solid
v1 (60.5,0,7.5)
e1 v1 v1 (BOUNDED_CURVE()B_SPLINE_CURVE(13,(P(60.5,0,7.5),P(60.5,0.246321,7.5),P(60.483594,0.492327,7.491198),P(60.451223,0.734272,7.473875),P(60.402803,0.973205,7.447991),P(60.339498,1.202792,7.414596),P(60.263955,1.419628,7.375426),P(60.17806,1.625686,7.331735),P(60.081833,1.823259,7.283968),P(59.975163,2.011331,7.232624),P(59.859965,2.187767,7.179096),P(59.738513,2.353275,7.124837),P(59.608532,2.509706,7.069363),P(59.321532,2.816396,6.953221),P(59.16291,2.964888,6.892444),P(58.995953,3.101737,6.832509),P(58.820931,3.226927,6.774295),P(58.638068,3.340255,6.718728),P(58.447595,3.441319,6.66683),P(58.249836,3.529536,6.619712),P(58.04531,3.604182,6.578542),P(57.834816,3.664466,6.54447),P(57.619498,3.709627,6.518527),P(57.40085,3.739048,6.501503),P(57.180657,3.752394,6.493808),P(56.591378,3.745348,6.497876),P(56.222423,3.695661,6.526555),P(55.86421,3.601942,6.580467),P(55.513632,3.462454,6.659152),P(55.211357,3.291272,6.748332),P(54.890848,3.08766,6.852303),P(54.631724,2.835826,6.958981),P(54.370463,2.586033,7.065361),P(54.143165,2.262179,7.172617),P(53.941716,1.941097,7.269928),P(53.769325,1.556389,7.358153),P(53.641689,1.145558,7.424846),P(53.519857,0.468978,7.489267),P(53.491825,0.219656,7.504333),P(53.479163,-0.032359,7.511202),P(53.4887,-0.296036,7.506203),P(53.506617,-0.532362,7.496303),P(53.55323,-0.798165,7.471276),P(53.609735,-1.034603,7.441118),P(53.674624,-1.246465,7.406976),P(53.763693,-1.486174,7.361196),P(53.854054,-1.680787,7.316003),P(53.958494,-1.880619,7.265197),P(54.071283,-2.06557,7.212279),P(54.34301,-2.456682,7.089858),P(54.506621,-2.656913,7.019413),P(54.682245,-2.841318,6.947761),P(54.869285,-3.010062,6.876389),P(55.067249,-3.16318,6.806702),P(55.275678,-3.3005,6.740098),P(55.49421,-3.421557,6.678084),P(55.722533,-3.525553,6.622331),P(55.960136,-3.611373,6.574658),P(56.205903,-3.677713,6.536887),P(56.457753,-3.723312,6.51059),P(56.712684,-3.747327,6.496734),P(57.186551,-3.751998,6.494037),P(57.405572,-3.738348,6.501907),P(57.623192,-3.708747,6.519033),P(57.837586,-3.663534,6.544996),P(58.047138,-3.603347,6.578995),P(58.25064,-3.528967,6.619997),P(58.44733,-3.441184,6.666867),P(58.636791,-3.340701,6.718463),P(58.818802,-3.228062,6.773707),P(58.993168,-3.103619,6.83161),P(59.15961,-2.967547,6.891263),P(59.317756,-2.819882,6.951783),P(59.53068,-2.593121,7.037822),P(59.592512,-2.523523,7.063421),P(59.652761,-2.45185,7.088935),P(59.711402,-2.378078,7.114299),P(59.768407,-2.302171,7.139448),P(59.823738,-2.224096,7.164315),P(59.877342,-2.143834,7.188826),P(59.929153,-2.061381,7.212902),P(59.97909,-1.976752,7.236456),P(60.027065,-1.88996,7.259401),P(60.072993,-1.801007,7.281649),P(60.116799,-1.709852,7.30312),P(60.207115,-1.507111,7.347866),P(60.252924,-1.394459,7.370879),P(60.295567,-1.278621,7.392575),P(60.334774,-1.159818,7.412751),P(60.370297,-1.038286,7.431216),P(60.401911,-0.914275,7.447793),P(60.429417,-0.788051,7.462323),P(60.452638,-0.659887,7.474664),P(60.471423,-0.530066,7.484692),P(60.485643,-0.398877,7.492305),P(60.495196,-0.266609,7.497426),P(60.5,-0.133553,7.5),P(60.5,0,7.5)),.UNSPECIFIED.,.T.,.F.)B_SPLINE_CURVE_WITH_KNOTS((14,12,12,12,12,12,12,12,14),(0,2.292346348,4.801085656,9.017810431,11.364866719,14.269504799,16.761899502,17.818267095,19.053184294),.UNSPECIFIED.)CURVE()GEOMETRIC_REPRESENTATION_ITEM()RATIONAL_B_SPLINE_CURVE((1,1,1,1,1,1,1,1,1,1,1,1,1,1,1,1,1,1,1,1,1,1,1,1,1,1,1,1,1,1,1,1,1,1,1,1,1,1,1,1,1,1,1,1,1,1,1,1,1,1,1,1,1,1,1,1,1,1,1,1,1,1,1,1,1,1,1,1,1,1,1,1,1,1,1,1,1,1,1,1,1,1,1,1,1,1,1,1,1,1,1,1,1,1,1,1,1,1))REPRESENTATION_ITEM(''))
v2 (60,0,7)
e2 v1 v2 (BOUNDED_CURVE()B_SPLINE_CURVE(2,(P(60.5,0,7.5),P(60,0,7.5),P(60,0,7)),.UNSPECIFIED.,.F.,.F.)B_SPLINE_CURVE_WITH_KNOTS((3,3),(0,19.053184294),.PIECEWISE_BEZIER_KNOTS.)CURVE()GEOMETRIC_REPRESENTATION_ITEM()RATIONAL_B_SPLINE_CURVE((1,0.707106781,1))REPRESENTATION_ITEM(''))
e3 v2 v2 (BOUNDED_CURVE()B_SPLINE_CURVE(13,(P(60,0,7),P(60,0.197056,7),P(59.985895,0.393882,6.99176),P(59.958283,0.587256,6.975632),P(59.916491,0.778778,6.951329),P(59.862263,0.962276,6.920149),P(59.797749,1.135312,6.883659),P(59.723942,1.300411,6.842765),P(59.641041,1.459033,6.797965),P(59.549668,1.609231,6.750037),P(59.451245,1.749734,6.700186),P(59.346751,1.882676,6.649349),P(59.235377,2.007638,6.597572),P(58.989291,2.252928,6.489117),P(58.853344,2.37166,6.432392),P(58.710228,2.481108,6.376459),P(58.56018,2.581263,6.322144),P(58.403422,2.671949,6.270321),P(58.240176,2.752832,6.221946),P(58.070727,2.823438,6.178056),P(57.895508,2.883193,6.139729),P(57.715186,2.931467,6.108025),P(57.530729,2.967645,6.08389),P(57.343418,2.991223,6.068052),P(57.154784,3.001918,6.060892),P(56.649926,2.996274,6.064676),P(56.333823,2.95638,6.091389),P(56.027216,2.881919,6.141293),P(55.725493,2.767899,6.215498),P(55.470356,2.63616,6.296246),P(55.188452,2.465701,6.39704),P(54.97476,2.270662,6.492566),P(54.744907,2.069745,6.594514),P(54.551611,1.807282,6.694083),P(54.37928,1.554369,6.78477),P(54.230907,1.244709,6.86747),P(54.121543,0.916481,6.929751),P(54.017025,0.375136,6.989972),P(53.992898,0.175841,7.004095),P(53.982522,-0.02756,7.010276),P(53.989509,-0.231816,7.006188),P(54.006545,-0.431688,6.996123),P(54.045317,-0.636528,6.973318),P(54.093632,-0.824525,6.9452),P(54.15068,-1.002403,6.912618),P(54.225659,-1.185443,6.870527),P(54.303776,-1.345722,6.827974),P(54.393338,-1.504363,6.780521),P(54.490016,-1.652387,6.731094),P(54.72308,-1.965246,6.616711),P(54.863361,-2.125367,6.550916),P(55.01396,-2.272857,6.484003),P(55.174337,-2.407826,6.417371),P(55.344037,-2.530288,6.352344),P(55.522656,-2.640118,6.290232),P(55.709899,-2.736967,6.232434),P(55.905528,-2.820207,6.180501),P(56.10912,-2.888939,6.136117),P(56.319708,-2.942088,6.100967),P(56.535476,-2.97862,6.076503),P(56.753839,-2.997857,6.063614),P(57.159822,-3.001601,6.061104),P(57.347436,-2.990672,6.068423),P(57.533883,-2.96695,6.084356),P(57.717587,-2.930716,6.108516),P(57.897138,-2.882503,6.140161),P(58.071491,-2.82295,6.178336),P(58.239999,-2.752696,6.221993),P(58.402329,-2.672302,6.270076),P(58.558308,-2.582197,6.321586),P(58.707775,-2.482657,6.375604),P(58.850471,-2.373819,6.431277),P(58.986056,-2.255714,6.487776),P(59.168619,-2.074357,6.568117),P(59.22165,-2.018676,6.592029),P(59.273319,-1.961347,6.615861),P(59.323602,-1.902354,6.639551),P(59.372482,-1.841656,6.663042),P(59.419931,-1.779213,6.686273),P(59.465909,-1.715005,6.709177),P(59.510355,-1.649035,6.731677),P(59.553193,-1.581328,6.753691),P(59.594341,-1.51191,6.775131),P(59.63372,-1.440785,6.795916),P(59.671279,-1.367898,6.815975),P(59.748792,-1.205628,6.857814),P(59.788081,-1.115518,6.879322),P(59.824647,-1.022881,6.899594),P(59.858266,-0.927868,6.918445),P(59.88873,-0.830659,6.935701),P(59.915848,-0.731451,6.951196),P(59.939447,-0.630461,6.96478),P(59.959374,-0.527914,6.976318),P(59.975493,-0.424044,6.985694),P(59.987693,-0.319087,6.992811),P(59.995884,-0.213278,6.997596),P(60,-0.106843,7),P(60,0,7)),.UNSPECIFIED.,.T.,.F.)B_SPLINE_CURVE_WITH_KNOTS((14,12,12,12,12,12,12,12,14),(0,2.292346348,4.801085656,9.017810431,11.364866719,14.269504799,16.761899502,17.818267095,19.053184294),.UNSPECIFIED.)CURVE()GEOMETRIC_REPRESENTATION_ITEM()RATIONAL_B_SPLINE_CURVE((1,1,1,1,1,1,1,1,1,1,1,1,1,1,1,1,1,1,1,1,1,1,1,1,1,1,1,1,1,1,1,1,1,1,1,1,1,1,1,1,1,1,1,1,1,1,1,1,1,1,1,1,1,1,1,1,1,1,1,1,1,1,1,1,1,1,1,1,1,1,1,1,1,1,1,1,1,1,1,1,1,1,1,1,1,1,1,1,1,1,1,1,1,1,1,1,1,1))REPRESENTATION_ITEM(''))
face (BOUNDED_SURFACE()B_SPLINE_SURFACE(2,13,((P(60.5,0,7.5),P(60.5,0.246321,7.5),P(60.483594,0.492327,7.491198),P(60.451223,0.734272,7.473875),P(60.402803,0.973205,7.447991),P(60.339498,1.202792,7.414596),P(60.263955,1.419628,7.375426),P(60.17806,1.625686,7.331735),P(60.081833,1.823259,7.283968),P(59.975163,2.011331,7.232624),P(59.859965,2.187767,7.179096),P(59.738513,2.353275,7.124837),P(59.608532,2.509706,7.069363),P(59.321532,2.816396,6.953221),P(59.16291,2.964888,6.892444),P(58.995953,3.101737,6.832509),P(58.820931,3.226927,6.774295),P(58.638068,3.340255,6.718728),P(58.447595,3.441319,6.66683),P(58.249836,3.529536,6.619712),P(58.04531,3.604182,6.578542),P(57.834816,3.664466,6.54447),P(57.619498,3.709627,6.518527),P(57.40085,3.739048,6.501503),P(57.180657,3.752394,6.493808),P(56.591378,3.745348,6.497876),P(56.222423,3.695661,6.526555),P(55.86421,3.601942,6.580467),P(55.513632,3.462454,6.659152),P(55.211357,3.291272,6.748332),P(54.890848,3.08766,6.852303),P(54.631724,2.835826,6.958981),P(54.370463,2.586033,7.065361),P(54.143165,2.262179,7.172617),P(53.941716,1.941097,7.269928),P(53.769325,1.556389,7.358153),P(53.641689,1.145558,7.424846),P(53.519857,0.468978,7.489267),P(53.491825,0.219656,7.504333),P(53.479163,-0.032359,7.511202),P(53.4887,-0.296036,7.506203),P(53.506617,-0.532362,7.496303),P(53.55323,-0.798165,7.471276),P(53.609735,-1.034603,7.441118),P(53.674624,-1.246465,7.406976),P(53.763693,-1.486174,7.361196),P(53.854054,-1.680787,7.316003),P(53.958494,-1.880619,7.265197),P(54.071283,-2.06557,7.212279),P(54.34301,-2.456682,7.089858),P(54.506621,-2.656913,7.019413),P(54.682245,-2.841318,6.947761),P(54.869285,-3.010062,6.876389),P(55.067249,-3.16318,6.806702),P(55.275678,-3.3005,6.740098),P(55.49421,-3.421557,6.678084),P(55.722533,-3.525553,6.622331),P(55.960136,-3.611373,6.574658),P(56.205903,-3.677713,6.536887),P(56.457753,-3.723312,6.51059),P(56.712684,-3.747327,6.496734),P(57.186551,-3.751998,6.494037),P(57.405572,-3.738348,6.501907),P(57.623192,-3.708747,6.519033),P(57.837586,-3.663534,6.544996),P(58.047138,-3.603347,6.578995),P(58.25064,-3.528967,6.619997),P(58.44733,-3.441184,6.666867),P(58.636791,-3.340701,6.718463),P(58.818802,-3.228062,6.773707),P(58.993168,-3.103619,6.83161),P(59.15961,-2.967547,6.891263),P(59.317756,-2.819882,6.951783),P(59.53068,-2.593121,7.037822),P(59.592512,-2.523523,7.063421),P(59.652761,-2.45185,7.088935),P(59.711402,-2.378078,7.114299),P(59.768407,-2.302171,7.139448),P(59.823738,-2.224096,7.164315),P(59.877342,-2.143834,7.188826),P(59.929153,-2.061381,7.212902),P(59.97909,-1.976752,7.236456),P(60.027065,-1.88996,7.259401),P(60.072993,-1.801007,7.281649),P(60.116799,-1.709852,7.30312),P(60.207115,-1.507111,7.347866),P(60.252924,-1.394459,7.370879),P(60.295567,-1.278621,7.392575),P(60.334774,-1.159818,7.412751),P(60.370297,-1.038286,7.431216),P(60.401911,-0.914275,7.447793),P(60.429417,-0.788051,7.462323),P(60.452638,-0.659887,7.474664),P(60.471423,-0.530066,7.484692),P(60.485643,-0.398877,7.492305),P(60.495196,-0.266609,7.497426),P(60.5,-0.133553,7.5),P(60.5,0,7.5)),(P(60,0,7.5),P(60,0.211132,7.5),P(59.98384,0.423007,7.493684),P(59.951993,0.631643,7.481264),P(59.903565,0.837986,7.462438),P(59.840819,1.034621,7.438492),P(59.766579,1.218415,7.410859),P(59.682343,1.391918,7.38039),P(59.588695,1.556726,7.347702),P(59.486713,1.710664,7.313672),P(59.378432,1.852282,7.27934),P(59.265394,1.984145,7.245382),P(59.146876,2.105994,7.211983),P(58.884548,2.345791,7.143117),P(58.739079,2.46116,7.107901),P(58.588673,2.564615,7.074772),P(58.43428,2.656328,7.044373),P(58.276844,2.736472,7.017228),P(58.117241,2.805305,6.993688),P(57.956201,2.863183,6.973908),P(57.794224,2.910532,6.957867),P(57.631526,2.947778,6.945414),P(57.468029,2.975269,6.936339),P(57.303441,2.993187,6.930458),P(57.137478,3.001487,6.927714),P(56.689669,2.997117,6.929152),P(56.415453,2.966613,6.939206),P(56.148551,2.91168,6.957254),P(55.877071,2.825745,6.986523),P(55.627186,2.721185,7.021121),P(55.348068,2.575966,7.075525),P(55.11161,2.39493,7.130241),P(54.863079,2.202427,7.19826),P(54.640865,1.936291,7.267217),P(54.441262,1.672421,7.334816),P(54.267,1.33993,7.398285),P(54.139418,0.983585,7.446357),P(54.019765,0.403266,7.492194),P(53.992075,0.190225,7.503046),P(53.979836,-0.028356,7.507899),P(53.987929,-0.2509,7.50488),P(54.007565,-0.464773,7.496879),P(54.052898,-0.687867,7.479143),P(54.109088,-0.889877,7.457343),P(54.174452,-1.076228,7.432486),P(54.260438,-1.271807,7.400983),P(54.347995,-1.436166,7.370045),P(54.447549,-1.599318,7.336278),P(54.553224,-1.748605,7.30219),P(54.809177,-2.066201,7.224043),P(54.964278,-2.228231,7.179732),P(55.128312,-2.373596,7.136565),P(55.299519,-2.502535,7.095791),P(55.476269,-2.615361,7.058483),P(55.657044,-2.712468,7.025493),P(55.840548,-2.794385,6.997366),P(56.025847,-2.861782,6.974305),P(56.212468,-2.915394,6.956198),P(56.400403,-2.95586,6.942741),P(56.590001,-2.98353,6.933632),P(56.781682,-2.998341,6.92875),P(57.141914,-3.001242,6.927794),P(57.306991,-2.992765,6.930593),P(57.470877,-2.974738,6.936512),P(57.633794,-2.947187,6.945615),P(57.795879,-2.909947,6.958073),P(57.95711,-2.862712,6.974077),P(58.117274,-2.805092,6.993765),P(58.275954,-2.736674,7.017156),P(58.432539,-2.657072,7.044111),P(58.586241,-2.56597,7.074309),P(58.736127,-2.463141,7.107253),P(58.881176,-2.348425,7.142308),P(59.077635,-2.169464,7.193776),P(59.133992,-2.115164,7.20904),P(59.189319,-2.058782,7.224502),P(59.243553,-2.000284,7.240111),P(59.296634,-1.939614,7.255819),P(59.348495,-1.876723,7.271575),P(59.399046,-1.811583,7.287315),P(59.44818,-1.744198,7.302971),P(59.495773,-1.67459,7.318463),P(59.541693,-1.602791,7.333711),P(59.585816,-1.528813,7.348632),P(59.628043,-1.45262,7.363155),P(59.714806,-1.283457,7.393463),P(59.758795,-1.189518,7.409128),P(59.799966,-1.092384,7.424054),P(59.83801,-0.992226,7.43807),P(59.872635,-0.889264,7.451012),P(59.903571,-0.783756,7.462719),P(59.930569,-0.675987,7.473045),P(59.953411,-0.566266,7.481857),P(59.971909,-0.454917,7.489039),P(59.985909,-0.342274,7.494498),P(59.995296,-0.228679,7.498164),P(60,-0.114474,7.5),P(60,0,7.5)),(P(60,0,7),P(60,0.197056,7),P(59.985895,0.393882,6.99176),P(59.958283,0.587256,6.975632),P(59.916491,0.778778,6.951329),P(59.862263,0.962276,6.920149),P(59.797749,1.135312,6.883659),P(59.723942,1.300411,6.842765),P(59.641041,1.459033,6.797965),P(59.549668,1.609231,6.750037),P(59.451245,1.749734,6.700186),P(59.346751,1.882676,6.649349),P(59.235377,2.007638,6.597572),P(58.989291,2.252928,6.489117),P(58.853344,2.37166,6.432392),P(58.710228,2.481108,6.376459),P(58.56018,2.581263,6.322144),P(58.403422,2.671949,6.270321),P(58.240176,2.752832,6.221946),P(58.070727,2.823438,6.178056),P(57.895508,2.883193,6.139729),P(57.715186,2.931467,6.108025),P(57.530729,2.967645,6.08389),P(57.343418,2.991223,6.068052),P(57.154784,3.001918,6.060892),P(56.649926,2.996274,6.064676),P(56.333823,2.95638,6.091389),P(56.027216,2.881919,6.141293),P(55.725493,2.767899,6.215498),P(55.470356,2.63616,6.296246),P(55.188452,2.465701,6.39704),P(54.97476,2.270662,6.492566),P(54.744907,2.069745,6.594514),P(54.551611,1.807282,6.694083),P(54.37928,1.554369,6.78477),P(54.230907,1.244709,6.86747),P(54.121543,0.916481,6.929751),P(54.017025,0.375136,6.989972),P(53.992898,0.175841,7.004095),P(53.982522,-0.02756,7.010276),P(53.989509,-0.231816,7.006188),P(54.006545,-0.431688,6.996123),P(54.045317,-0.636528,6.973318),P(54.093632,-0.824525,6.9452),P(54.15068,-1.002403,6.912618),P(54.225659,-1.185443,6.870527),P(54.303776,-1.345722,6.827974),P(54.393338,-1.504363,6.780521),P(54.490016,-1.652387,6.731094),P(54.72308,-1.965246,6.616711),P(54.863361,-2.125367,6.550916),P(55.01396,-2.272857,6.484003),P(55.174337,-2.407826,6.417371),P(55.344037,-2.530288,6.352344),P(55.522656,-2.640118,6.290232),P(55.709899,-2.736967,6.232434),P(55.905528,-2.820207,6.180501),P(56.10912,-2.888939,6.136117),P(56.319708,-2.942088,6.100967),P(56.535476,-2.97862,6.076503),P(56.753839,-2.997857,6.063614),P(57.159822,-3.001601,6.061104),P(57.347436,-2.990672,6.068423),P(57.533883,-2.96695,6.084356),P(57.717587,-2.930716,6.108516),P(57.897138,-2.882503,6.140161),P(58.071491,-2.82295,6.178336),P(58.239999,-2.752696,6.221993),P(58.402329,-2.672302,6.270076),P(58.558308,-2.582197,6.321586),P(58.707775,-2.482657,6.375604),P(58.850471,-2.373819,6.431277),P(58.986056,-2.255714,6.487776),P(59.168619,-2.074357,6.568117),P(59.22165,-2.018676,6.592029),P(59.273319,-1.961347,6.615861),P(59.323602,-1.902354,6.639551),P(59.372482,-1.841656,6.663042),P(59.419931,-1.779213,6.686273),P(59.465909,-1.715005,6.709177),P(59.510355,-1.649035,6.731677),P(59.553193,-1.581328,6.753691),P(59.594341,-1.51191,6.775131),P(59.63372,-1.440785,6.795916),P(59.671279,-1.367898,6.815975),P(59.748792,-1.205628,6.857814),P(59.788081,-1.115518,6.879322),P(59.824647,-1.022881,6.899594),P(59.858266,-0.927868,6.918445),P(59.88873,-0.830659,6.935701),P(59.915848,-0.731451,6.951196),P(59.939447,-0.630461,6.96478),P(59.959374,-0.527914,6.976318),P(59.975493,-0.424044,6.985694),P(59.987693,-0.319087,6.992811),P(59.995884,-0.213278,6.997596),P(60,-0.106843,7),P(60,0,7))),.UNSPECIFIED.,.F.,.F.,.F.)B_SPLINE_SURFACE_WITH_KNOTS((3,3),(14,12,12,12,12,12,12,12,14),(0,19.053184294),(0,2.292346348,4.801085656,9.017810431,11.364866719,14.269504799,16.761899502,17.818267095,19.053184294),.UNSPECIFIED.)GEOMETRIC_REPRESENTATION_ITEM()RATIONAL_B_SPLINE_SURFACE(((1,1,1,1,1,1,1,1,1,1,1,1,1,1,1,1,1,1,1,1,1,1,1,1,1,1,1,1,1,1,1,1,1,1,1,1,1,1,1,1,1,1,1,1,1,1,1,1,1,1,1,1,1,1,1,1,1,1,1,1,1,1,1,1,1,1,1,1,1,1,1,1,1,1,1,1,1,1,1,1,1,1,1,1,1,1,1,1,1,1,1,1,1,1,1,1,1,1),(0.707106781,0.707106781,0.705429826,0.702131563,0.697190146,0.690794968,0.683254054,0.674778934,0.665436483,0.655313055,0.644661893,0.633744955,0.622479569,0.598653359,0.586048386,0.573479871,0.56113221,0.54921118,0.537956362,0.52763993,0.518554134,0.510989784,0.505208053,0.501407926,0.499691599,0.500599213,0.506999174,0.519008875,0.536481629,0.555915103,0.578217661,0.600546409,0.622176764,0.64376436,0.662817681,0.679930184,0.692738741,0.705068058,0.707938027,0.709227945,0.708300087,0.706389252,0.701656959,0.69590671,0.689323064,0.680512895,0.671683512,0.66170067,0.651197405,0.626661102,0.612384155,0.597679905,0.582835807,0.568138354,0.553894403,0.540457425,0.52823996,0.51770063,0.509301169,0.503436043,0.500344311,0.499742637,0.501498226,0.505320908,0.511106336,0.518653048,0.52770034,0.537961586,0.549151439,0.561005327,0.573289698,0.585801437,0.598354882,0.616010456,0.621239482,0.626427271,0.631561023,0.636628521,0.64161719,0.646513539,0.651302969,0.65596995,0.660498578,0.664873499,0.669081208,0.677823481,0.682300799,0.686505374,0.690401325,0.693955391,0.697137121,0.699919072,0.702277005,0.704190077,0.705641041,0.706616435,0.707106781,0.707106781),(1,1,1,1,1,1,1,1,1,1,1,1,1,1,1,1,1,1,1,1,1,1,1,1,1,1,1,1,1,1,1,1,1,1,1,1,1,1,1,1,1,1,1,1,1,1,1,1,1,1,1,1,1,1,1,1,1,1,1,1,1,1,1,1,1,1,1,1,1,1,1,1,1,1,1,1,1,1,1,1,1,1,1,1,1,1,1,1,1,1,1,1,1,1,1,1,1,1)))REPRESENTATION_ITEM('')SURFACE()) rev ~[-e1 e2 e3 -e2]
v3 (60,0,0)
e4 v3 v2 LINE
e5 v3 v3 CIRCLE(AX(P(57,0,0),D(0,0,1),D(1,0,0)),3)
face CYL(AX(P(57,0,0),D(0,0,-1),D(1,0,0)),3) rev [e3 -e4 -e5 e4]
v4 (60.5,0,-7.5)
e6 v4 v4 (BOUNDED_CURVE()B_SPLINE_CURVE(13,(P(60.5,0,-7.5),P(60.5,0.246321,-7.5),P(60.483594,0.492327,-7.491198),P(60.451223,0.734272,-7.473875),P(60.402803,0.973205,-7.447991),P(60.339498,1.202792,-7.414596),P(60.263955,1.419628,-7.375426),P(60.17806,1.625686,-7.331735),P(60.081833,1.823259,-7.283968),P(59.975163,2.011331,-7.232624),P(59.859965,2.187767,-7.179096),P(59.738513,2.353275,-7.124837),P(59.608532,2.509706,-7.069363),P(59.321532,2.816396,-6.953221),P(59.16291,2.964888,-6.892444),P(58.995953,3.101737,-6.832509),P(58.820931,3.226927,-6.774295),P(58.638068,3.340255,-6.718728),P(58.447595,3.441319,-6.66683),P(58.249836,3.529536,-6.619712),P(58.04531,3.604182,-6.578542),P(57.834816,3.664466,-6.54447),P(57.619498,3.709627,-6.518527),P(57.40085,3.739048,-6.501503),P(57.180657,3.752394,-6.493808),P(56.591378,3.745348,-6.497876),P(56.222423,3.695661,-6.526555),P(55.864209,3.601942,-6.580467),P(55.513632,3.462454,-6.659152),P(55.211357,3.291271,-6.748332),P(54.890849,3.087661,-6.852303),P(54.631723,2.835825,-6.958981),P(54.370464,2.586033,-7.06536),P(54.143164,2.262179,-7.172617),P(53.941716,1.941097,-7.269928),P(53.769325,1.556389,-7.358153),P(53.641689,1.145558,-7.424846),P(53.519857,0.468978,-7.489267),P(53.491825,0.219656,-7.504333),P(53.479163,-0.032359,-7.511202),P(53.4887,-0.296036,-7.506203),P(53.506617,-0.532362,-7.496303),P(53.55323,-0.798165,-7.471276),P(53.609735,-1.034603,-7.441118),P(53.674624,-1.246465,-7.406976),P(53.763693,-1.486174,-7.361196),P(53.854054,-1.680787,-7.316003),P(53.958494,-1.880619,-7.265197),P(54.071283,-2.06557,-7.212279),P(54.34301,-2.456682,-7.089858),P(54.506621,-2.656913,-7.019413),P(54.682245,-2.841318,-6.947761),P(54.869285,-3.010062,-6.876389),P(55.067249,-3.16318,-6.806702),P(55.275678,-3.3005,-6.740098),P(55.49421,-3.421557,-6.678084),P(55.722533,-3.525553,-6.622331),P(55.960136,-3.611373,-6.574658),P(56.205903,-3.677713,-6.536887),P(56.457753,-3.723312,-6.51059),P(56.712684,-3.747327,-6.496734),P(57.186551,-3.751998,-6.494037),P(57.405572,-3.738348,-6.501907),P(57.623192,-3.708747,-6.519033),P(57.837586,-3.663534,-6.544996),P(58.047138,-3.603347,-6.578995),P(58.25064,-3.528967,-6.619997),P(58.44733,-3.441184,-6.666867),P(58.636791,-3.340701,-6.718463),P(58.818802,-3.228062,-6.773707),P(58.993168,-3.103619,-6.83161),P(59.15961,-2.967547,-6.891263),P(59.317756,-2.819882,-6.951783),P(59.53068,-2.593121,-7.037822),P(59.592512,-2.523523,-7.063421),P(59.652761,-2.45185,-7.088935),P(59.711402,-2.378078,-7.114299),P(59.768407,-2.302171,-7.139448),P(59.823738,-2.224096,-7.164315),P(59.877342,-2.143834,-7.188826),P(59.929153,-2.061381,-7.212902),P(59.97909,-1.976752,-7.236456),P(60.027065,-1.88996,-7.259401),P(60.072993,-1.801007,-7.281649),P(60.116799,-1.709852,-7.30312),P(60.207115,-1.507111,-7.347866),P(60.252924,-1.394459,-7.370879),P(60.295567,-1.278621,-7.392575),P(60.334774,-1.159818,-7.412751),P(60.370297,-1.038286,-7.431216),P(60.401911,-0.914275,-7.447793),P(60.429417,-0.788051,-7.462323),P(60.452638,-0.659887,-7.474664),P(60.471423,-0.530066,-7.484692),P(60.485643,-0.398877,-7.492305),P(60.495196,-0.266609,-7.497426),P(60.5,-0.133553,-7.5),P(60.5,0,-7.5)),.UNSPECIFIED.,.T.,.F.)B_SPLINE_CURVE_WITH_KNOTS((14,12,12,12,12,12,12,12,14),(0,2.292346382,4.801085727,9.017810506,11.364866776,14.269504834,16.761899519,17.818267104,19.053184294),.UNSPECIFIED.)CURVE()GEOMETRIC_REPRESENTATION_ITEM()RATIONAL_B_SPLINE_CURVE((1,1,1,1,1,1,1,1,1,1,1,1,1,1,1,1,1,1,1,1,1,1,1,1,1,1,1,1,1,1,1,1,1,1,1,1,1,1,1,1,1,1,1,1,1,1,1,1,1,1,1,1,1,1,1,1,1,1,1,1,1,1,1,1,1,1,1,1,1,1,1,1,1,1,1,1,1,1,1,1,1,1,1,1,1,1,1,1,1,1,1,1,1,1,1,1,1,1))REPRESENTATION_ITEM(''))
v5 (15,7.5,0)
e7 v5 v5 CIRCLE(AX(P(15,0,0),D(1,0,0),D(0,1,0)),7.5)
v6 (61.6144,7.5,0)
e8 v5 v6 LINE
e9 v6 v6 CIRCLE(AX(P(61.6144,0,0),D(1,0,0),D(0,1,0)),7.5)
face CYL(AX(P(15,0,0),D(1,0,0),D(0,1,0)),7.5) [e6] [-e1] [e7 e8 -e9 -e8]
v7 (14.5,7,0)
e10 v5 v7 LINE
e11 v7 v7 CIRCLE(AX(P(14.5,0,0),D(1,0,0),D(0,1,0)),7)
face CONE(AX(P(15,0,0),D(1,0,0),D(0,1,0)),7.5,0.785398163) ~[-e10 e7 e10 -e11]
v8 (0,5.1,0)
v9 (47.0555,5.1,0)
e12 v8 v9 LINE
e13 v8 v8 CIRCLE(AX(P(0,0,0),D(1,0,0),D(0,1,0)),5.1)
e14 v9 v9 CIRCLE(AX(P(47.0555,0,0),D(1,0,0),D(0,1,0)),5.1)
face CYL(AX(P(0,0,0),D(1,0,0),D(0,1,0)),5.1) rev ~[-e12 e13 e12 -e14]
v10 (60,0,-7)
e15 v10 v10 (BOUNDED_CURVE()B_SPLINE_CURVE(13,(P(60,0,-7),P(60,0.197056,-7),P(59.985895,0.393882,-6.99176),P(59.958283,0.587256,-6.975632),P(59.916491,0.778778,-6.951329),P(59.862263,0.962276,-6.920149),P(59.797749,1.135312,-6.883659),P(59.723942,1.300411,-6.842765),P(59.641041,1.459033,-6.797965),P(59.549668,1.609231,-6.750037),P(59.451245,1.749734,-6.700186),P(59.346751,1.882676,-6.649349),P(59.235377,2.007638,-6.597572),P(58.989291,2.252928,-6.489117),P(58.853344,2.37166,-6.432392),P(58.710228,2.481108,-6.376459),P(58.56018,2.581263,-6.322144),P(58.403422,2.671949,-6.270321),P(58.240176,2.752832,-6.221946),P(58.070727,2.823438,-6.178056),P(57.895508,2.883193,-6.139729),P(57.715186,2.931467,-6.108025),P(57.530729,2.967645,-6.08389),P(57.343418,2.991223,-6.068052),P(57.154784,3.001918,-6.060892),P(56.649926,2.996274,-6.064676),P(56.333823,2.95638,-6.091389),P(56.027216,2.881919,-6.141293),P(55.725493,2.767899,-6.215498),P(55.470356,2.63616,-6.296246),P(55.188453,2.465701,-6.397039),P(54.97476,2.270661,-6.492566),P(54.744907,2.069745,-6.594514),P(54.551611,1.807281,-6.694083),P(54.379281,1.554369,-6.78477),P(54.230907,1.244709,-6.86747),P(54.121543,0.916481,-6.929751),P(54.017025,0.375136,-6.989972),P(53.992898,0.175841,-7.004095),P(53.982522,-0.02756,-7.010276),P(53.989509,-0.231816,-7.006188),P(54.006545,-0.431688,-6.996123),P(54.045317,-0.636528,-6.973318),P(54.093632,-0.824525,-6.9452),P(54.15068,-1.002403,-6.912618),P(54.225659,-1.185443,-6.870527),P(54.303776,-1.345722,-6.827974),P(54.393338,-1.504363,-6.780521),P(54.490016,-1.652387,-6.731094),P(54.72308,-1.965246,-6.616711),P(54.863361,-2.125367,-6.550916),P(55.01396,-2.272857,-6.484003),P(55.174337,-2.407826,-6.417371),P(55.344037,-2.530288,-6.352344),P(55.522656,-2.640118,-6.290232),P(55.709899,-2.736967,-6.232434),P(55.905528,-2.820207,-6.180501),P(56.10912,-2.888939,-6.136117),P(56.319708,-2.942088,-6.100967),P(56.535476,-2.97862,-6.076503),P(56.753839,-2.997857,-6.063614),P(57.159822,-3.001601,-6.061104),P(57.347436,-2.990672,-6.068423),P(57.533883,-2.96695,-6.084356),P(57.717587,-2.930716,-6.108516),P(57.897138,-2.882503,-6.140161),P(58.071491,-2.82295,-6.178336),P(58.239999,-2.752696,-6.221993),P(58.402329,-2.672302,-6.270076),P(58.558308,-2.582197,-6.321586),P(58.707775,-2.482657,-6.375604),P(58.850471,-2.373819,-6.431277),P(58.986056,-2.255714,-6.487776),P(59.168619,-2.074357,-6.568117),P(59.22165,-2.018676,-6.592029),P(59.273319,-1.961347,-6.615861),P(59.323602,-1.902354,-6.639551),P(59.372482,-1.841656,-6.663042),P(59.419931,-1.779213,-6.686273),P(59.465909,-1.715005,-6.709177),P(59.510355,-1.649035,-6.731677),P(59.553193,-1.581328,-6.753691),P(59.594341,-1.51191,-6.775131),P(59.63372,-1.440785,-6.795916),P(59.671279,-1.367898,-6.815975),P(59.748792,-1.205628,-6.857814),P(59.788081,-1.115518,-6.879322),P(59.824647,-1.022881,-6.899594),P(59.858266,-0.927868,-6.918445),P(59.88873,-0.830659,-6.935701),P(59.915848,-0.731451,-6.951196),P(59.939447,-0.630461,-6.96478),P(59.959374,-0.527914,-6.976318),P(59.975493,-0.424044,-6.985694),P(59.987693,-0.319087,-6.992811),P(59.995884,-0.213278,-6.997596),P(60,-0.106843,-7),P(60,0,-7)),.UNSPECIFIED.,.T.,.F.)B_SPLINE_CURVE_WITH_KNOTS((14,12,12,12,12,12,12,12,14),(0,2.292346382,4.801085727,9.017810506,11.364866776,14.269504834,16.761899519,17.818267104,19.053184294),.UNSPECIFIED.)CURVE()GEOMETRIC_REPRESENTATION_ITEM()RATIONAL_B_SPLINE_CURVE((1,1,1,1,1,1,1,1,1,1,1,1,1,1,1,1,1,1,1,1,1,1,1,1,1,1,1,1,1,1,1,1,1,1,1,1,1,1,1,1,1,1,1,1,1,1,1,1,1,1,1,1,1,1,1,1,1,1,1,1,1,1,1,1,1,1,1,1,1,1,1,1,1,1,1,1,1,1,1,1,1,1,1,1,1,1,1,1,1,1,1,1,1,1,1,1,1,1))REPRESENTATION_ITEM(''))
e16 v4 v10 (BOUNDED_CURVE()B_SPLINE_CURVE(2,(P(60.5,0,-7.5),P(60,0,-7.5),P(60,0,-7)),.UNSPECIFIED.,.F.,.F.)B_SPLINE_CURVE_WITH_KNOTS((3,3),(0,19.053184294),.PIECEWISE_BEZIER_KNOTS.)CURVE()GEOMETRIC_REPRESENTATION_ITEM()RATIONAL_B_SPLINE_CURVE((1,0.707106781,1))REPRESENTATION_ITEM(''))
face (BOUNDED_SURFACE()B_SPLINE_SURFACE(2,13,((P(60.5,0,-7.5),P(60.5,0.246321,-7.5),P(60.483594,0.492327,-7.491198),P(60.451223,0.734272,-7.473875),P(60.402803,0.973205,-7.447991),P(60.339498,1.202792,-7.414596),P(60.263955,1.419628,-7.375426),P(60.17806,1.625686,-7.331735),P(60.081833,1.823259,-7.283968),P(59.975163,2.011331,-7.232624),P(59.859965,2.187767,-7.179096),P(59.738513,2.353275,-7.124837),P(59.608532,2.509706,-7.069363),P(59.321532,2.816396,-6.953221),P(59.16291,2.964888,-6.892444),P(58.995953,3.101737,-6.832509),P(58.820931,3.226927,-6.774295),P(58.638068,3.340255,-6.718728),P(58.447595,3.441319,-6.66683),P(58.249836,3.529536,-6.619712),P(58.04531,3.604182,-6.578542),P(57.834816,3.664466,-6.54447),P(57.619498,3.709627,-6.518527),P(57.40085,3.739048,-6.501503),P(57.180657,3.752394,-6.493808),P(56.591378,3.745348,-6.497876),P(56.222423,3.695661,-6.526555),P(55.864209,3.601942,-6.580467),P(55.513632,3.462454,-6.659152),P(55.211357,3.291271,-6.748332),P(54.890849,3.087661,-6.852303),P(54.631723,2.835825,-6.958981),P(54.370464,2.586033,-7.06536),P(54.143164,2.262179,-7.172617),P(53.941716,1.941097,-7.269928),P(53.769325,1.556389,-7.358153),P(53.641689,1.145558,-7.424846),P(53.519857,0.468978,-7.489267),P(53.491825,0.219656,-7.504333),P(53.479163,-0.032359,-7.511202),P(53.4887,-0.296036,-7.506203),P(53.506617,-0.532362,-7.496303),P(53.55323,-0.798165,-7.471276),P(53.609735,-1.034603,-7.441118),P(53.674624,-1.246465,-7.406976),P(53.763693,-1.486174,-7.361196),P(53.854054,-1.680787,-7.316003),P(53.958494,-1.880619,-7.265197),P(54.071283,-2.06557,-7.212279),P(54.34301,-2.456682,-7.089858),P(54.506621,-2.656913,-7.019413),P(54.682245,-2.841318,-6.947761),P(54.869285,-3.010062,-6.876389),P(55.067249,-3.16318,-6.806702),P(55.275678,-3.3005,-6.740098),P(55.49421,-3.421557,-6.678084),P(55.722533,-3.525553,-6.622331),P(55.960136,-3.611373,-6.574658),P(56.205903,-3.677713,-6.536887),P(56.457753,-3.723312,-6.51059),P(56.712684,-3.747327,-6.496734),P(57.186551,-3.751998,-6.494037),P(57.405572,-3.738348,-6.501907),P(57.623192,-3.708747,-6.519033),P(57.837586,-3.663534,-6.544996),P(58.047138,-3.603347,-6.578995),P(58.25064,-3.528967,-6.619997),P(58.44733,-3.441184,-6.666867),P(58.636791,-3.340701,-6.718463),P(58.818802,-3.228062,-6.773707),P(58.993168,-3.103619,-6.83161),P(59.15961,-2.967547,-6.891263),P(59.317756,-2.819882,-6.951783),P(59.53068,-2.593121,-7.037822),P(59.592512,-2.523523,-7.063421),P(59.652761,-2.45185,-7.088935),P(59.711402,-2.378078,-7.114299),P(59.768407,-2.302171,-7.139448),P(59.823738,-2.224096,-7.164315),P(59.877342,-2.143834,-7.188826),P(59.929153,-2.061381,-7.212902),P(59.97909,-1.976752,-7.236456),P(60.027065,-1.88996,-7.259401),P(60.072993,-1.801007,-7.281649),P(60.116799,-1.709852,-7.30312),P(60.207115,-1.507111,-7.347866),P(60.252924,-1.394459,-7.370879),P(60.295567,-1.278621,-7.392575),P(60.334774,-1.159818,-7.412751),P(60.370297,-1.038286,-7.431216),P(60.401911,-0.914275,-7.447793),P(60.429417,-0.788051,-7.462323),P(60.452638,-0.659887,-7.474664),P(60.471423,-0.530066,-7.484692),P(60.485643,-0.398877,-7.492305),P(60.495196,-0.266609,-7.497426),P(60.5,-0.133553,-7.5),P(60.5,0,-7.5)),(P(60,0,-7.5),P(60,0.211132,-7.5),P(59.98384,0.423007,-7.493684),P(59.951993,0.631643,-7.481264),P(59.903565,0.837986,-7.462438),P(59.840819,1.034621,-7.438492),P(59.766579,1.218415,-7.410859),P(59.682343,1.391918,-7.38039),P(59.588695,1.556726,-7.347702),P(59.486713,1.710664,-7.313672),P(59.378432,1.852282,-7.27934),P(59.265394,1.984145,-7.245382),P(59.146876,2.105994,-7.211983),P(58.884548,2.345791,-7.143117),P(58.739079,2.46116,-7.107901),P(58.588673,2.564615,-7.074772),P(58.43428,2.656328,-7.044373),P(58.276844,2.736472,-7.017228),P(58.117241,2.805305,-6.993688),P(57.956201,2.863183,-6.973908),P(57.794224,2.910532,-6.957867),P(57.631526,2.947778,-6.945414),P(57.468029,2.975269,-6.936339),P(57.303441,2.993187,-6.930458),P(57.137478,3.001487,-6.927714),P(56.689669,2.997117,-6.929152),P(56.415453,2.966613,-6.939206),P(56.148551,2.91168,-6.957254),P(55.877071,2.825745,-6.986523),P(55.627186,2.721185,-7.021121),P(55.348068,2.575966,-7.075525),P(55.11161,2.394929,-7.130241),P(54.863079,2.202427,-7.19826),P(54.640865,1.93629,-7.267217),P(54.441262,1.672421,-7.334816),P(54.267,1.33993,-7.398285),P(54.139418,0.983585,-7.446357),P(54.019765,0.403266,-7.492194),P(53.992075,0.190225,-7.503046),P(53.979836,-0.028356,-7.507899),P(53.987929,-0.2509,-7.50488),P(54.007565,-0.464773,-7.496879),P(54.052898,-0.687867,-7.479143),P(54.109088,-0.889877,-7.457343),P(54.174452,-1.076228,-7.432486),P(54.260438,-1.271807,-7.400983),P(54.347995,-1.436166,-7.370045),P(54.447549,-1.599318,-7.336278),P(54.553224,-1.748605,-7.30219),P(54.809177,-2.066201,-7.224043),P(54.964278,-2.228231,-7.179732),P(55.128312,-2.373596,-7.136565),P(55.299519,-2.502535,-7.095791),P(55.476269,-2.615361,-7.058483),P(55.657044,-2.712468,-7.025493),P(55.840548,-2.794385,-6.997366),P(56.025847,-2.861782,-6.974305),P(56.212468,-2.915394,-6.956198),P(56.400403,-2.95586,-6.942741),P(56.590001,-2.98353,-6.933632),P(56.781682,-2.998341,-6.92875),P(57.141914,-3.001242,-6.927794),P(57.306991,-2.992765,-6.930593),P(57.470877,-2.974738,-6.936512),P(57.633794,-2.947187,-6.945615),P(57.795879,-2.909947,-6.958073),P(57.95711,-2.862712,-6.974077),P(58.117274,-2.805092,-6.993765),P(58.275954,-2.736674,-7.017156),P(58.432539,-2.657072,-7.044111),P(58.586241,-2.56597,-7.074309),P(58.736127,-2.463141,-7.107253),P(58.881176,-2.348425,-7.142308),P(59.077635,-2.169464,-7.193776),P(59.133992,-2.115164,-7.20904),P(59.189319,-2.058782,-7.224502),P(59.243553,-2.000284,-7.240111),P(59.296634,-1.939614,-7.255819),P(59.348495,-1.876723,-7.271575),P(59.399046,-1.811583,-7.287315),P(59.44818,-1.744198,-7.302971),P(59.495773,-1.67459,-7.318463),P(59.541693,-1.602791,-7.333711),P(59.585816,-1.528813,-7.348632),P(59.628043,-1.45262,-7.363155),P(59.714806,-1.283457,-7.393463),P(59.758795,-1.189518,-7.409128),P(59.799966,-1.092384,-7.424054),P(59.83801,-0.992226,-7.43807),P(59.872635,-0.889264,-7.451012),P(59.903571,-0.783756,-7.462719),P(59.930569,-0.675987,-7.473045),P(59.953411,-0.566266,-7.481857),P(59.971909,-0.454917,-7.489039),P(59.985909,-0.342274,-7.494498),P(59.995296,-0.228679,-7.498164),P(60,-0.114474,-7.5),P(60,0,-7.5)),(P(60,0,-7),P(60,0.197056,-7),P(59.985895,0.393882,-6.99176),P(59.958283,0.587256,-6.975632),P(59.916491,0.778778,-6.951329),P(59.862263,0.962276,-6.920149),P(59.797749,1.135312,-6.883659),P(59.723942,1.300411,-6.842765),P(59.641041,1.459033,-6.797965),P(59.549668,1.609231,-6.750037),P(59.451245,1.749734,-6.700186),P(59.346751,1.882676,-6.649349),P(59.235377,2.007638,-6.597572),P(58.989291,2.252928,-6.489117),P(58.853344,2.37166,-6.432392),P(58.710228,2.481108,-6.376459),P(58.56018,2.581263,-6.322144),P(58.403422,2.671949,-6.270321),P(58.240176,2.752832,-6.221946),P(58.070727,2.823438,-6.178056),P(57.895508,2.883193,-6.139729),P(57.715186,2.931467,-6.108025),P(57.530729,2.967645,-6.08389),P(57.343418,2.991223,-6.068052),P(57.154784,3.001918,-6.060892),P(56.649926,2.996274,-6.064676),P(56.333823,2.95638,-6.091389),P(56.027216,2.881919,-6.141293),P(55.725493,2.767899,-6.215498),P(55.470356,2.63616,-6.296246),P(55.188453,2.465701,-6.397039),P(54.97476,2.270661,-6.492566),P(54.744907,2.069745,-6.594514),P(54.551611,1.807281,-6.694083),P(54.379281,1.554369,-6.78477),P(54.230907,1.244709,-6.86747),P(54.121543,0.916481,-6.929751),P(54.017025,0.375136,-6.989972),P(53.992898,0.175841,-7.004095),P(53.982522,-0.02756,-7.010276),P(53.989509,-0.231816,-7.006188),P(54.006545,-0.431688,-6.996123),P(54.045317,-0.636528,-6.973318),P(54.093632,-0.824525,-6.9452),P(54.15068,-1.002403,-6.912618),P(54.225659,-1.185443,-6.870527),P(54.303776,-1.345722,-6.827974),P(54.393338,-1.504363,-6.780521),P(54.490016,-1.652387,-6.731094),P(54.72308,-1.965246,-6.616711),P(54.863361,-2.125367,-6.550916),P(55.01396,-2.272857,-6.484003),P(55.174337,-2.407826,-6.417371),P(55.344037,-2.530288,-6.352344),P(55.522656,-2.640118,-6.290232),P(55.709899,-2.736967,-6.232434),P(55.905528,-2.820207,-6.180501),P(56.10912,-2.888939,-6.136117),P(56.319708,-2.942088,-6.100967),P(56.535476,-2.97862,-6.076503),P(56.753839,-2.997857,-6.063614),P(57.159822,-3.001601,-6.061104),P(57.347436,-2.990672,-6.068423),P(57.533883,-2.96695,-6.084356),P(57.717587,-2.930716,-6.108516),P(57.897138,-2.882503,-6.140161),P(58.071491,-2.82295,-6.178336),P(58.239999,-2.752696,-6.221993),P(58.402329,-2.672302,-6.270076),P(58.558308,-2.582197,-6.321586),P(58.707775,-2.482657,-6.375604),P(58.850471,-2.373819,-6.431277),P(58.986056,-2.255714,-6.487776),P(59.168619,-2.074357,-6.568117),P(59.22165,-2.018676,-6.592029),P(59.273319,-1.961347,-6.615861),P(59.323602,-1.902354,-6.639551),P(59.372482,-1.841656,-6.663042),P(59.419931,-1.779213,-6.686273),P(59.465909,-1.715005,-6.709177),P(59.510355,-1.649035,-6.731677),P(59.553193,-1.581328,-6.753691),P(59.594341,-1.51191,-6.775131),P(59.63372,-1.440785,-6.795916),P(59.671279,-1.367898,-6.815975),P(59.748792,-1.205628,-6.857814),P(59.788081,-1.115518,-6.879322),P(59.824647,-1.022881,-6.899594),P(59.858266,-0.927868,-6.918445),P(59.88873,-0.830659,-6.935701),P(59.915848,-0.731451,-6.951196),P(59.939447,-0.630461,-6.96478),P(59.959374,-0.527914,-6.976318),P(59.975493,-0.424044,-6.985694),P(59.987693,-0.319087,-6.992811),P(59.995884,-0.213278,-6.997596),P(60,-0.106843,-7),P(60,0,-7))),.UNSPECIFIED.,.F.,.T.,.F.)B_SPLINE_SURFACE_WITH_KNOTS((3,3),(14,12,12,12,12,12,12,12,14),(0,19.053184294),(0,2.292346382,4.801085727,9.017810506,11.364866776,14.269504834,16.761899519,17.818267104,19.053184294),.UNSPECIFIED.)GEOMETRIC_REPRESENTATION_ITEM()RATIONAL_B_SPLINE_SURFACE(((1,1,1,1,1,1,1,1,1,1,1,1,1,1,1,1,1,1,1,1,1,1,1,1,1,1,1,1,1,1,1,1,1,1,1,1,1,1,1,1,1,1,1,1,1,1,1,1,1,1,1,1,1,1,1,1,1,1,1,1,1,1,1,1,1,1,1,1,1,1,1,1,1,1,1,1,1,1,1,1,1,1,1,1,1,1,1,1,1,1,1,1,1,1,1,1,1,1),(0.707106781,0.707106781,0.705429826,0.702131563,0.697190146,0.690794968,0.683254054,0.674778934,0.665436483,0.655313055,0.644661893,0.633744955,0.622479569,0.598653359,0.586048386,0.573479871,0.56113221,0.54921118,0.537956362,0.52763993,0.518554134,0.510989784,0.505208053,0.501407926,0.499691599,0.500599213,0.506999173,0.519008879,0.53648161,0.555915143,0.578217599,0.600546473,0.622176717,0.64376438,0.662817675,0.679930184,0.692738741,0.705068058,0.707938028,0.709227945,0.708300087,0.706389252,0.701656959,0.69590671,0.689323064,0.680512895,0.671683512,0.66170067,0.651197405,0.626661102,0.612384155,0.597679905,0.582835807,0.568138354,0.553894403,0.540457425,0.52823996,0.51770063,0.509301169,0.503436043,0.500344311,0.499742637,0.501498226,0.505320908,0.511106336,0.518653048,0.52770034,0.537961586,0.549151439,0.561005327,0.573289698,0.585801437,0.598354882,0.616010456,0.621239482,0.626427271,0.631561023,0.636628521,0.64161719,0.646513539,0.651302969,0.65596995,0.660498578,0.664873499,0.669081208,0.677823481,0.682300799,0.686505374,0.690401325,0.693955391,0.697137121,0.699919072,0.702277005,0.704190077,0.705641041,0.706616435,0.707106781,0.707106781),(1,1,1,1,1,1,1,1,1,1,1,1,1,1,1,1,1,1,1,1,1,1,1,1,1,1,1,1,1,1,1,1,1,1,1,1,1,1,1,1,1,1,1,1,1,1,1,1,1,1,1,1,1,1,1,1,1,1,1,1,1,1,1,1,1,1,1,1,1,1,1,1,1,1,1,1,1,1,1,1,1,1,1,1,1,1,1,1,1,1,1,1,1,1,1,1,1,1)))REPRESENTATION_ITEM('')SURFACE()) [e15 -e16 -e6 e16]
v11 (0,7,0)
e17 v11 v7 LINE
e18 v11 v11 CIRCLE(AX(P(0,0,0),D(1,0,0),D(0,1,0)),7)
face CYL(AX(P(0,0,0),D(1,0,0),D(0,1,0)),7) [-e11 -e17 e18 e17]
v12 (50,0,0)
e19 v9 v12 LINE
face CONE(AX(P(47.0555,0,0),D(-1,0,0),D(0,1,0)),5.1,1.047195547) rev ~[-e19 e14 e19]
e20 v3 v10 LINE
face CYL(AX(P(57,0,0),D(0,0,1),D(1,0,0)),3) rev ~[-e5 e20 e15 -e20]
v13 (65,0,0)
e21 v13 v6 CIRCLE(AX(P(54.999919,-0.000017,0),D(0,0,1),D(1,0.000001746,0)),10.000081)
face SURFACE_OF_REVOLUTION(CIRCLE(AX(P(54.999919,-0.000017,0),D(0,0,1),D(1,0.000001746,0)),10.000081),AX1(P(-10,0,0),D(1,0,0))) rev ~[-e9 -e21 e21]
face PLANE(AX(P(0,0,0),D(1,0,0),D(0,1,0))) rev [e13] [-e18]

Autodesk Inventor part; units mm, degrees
ref_plane "YZ Plane" through (0, 0, 0) normal (1, 0, 0) x (0, 1, 0)
ref_plane "XZ Plane" through (0, 0, 0) normal (0, 1, 0) x (-1, 0, 0)
ref_plane "XY Plane" through (0, 0, 0) normal (0, 0, 1) x (1, 0, 0)
sketch "Sketch1" plane through (0, 0, 0) normal (0, 0, 1) x (1, 0, 0)
  line L0 (-13.1614, 0) -> (78.9686, 0) projected
  line L1 (0, -5.1729) -> (0, 10.0373) projected
  line L2 (0, 7) -> (15, 7)
  line L3 (15, 7) -> (15, 7.5)
  line L4 (15, 7.5) -> (61.6144, 7.5)
  line L5 (61.6144, 7.5) -> (61.6144, 0) construction
  line L6 (0, 5.1) -> (47.0555, 5.1)
  line L7 (47.0555, 5.1) -> (50, 0)
  arc A0 (65, 0) -> (61.6144, 7.5) centre (55, 0) ccw
  circle A1 centre (57, 0) radius 3
  line L8 (15, 7.5) -> (14.5, 7)
  point P0 (0, 0)
  dimension "d0" = 10.2
  dimension "d2" = 14
  dimension "d3" = 15
  dimension "d5" = 60
  dimension "d6" = 50
  dimension "d8" = 15
  dimension "d9" = 10
  dimension "d10" = 6
  dimension "d12" = 65
  dimension "d13" = 0.5
  dimension "d14" = 0.5
  dimension "d15" = 57
revolve "Revolution1" add sketch "Sketch1" angle 360 about axis through (-10, 0, 0) along (1, 0, 0) picked at (56.166, 1.3672) contours A1 L0 L7 L6 L1 L2 L3 L4 A0 | L0 A1 | L3 L2 L8
extrude "Extrusion1" cut sketch "Sketch1" along normal through all both and the other way through all contours A1 L0 | L0 A1
fillet "Fillet1" radius 0.5 2 edges at (54, 0.0092, 7.5) (54, 0.0092, -7.5)
equation "\"d13\" = d14"
properties part number "TW1-004"
